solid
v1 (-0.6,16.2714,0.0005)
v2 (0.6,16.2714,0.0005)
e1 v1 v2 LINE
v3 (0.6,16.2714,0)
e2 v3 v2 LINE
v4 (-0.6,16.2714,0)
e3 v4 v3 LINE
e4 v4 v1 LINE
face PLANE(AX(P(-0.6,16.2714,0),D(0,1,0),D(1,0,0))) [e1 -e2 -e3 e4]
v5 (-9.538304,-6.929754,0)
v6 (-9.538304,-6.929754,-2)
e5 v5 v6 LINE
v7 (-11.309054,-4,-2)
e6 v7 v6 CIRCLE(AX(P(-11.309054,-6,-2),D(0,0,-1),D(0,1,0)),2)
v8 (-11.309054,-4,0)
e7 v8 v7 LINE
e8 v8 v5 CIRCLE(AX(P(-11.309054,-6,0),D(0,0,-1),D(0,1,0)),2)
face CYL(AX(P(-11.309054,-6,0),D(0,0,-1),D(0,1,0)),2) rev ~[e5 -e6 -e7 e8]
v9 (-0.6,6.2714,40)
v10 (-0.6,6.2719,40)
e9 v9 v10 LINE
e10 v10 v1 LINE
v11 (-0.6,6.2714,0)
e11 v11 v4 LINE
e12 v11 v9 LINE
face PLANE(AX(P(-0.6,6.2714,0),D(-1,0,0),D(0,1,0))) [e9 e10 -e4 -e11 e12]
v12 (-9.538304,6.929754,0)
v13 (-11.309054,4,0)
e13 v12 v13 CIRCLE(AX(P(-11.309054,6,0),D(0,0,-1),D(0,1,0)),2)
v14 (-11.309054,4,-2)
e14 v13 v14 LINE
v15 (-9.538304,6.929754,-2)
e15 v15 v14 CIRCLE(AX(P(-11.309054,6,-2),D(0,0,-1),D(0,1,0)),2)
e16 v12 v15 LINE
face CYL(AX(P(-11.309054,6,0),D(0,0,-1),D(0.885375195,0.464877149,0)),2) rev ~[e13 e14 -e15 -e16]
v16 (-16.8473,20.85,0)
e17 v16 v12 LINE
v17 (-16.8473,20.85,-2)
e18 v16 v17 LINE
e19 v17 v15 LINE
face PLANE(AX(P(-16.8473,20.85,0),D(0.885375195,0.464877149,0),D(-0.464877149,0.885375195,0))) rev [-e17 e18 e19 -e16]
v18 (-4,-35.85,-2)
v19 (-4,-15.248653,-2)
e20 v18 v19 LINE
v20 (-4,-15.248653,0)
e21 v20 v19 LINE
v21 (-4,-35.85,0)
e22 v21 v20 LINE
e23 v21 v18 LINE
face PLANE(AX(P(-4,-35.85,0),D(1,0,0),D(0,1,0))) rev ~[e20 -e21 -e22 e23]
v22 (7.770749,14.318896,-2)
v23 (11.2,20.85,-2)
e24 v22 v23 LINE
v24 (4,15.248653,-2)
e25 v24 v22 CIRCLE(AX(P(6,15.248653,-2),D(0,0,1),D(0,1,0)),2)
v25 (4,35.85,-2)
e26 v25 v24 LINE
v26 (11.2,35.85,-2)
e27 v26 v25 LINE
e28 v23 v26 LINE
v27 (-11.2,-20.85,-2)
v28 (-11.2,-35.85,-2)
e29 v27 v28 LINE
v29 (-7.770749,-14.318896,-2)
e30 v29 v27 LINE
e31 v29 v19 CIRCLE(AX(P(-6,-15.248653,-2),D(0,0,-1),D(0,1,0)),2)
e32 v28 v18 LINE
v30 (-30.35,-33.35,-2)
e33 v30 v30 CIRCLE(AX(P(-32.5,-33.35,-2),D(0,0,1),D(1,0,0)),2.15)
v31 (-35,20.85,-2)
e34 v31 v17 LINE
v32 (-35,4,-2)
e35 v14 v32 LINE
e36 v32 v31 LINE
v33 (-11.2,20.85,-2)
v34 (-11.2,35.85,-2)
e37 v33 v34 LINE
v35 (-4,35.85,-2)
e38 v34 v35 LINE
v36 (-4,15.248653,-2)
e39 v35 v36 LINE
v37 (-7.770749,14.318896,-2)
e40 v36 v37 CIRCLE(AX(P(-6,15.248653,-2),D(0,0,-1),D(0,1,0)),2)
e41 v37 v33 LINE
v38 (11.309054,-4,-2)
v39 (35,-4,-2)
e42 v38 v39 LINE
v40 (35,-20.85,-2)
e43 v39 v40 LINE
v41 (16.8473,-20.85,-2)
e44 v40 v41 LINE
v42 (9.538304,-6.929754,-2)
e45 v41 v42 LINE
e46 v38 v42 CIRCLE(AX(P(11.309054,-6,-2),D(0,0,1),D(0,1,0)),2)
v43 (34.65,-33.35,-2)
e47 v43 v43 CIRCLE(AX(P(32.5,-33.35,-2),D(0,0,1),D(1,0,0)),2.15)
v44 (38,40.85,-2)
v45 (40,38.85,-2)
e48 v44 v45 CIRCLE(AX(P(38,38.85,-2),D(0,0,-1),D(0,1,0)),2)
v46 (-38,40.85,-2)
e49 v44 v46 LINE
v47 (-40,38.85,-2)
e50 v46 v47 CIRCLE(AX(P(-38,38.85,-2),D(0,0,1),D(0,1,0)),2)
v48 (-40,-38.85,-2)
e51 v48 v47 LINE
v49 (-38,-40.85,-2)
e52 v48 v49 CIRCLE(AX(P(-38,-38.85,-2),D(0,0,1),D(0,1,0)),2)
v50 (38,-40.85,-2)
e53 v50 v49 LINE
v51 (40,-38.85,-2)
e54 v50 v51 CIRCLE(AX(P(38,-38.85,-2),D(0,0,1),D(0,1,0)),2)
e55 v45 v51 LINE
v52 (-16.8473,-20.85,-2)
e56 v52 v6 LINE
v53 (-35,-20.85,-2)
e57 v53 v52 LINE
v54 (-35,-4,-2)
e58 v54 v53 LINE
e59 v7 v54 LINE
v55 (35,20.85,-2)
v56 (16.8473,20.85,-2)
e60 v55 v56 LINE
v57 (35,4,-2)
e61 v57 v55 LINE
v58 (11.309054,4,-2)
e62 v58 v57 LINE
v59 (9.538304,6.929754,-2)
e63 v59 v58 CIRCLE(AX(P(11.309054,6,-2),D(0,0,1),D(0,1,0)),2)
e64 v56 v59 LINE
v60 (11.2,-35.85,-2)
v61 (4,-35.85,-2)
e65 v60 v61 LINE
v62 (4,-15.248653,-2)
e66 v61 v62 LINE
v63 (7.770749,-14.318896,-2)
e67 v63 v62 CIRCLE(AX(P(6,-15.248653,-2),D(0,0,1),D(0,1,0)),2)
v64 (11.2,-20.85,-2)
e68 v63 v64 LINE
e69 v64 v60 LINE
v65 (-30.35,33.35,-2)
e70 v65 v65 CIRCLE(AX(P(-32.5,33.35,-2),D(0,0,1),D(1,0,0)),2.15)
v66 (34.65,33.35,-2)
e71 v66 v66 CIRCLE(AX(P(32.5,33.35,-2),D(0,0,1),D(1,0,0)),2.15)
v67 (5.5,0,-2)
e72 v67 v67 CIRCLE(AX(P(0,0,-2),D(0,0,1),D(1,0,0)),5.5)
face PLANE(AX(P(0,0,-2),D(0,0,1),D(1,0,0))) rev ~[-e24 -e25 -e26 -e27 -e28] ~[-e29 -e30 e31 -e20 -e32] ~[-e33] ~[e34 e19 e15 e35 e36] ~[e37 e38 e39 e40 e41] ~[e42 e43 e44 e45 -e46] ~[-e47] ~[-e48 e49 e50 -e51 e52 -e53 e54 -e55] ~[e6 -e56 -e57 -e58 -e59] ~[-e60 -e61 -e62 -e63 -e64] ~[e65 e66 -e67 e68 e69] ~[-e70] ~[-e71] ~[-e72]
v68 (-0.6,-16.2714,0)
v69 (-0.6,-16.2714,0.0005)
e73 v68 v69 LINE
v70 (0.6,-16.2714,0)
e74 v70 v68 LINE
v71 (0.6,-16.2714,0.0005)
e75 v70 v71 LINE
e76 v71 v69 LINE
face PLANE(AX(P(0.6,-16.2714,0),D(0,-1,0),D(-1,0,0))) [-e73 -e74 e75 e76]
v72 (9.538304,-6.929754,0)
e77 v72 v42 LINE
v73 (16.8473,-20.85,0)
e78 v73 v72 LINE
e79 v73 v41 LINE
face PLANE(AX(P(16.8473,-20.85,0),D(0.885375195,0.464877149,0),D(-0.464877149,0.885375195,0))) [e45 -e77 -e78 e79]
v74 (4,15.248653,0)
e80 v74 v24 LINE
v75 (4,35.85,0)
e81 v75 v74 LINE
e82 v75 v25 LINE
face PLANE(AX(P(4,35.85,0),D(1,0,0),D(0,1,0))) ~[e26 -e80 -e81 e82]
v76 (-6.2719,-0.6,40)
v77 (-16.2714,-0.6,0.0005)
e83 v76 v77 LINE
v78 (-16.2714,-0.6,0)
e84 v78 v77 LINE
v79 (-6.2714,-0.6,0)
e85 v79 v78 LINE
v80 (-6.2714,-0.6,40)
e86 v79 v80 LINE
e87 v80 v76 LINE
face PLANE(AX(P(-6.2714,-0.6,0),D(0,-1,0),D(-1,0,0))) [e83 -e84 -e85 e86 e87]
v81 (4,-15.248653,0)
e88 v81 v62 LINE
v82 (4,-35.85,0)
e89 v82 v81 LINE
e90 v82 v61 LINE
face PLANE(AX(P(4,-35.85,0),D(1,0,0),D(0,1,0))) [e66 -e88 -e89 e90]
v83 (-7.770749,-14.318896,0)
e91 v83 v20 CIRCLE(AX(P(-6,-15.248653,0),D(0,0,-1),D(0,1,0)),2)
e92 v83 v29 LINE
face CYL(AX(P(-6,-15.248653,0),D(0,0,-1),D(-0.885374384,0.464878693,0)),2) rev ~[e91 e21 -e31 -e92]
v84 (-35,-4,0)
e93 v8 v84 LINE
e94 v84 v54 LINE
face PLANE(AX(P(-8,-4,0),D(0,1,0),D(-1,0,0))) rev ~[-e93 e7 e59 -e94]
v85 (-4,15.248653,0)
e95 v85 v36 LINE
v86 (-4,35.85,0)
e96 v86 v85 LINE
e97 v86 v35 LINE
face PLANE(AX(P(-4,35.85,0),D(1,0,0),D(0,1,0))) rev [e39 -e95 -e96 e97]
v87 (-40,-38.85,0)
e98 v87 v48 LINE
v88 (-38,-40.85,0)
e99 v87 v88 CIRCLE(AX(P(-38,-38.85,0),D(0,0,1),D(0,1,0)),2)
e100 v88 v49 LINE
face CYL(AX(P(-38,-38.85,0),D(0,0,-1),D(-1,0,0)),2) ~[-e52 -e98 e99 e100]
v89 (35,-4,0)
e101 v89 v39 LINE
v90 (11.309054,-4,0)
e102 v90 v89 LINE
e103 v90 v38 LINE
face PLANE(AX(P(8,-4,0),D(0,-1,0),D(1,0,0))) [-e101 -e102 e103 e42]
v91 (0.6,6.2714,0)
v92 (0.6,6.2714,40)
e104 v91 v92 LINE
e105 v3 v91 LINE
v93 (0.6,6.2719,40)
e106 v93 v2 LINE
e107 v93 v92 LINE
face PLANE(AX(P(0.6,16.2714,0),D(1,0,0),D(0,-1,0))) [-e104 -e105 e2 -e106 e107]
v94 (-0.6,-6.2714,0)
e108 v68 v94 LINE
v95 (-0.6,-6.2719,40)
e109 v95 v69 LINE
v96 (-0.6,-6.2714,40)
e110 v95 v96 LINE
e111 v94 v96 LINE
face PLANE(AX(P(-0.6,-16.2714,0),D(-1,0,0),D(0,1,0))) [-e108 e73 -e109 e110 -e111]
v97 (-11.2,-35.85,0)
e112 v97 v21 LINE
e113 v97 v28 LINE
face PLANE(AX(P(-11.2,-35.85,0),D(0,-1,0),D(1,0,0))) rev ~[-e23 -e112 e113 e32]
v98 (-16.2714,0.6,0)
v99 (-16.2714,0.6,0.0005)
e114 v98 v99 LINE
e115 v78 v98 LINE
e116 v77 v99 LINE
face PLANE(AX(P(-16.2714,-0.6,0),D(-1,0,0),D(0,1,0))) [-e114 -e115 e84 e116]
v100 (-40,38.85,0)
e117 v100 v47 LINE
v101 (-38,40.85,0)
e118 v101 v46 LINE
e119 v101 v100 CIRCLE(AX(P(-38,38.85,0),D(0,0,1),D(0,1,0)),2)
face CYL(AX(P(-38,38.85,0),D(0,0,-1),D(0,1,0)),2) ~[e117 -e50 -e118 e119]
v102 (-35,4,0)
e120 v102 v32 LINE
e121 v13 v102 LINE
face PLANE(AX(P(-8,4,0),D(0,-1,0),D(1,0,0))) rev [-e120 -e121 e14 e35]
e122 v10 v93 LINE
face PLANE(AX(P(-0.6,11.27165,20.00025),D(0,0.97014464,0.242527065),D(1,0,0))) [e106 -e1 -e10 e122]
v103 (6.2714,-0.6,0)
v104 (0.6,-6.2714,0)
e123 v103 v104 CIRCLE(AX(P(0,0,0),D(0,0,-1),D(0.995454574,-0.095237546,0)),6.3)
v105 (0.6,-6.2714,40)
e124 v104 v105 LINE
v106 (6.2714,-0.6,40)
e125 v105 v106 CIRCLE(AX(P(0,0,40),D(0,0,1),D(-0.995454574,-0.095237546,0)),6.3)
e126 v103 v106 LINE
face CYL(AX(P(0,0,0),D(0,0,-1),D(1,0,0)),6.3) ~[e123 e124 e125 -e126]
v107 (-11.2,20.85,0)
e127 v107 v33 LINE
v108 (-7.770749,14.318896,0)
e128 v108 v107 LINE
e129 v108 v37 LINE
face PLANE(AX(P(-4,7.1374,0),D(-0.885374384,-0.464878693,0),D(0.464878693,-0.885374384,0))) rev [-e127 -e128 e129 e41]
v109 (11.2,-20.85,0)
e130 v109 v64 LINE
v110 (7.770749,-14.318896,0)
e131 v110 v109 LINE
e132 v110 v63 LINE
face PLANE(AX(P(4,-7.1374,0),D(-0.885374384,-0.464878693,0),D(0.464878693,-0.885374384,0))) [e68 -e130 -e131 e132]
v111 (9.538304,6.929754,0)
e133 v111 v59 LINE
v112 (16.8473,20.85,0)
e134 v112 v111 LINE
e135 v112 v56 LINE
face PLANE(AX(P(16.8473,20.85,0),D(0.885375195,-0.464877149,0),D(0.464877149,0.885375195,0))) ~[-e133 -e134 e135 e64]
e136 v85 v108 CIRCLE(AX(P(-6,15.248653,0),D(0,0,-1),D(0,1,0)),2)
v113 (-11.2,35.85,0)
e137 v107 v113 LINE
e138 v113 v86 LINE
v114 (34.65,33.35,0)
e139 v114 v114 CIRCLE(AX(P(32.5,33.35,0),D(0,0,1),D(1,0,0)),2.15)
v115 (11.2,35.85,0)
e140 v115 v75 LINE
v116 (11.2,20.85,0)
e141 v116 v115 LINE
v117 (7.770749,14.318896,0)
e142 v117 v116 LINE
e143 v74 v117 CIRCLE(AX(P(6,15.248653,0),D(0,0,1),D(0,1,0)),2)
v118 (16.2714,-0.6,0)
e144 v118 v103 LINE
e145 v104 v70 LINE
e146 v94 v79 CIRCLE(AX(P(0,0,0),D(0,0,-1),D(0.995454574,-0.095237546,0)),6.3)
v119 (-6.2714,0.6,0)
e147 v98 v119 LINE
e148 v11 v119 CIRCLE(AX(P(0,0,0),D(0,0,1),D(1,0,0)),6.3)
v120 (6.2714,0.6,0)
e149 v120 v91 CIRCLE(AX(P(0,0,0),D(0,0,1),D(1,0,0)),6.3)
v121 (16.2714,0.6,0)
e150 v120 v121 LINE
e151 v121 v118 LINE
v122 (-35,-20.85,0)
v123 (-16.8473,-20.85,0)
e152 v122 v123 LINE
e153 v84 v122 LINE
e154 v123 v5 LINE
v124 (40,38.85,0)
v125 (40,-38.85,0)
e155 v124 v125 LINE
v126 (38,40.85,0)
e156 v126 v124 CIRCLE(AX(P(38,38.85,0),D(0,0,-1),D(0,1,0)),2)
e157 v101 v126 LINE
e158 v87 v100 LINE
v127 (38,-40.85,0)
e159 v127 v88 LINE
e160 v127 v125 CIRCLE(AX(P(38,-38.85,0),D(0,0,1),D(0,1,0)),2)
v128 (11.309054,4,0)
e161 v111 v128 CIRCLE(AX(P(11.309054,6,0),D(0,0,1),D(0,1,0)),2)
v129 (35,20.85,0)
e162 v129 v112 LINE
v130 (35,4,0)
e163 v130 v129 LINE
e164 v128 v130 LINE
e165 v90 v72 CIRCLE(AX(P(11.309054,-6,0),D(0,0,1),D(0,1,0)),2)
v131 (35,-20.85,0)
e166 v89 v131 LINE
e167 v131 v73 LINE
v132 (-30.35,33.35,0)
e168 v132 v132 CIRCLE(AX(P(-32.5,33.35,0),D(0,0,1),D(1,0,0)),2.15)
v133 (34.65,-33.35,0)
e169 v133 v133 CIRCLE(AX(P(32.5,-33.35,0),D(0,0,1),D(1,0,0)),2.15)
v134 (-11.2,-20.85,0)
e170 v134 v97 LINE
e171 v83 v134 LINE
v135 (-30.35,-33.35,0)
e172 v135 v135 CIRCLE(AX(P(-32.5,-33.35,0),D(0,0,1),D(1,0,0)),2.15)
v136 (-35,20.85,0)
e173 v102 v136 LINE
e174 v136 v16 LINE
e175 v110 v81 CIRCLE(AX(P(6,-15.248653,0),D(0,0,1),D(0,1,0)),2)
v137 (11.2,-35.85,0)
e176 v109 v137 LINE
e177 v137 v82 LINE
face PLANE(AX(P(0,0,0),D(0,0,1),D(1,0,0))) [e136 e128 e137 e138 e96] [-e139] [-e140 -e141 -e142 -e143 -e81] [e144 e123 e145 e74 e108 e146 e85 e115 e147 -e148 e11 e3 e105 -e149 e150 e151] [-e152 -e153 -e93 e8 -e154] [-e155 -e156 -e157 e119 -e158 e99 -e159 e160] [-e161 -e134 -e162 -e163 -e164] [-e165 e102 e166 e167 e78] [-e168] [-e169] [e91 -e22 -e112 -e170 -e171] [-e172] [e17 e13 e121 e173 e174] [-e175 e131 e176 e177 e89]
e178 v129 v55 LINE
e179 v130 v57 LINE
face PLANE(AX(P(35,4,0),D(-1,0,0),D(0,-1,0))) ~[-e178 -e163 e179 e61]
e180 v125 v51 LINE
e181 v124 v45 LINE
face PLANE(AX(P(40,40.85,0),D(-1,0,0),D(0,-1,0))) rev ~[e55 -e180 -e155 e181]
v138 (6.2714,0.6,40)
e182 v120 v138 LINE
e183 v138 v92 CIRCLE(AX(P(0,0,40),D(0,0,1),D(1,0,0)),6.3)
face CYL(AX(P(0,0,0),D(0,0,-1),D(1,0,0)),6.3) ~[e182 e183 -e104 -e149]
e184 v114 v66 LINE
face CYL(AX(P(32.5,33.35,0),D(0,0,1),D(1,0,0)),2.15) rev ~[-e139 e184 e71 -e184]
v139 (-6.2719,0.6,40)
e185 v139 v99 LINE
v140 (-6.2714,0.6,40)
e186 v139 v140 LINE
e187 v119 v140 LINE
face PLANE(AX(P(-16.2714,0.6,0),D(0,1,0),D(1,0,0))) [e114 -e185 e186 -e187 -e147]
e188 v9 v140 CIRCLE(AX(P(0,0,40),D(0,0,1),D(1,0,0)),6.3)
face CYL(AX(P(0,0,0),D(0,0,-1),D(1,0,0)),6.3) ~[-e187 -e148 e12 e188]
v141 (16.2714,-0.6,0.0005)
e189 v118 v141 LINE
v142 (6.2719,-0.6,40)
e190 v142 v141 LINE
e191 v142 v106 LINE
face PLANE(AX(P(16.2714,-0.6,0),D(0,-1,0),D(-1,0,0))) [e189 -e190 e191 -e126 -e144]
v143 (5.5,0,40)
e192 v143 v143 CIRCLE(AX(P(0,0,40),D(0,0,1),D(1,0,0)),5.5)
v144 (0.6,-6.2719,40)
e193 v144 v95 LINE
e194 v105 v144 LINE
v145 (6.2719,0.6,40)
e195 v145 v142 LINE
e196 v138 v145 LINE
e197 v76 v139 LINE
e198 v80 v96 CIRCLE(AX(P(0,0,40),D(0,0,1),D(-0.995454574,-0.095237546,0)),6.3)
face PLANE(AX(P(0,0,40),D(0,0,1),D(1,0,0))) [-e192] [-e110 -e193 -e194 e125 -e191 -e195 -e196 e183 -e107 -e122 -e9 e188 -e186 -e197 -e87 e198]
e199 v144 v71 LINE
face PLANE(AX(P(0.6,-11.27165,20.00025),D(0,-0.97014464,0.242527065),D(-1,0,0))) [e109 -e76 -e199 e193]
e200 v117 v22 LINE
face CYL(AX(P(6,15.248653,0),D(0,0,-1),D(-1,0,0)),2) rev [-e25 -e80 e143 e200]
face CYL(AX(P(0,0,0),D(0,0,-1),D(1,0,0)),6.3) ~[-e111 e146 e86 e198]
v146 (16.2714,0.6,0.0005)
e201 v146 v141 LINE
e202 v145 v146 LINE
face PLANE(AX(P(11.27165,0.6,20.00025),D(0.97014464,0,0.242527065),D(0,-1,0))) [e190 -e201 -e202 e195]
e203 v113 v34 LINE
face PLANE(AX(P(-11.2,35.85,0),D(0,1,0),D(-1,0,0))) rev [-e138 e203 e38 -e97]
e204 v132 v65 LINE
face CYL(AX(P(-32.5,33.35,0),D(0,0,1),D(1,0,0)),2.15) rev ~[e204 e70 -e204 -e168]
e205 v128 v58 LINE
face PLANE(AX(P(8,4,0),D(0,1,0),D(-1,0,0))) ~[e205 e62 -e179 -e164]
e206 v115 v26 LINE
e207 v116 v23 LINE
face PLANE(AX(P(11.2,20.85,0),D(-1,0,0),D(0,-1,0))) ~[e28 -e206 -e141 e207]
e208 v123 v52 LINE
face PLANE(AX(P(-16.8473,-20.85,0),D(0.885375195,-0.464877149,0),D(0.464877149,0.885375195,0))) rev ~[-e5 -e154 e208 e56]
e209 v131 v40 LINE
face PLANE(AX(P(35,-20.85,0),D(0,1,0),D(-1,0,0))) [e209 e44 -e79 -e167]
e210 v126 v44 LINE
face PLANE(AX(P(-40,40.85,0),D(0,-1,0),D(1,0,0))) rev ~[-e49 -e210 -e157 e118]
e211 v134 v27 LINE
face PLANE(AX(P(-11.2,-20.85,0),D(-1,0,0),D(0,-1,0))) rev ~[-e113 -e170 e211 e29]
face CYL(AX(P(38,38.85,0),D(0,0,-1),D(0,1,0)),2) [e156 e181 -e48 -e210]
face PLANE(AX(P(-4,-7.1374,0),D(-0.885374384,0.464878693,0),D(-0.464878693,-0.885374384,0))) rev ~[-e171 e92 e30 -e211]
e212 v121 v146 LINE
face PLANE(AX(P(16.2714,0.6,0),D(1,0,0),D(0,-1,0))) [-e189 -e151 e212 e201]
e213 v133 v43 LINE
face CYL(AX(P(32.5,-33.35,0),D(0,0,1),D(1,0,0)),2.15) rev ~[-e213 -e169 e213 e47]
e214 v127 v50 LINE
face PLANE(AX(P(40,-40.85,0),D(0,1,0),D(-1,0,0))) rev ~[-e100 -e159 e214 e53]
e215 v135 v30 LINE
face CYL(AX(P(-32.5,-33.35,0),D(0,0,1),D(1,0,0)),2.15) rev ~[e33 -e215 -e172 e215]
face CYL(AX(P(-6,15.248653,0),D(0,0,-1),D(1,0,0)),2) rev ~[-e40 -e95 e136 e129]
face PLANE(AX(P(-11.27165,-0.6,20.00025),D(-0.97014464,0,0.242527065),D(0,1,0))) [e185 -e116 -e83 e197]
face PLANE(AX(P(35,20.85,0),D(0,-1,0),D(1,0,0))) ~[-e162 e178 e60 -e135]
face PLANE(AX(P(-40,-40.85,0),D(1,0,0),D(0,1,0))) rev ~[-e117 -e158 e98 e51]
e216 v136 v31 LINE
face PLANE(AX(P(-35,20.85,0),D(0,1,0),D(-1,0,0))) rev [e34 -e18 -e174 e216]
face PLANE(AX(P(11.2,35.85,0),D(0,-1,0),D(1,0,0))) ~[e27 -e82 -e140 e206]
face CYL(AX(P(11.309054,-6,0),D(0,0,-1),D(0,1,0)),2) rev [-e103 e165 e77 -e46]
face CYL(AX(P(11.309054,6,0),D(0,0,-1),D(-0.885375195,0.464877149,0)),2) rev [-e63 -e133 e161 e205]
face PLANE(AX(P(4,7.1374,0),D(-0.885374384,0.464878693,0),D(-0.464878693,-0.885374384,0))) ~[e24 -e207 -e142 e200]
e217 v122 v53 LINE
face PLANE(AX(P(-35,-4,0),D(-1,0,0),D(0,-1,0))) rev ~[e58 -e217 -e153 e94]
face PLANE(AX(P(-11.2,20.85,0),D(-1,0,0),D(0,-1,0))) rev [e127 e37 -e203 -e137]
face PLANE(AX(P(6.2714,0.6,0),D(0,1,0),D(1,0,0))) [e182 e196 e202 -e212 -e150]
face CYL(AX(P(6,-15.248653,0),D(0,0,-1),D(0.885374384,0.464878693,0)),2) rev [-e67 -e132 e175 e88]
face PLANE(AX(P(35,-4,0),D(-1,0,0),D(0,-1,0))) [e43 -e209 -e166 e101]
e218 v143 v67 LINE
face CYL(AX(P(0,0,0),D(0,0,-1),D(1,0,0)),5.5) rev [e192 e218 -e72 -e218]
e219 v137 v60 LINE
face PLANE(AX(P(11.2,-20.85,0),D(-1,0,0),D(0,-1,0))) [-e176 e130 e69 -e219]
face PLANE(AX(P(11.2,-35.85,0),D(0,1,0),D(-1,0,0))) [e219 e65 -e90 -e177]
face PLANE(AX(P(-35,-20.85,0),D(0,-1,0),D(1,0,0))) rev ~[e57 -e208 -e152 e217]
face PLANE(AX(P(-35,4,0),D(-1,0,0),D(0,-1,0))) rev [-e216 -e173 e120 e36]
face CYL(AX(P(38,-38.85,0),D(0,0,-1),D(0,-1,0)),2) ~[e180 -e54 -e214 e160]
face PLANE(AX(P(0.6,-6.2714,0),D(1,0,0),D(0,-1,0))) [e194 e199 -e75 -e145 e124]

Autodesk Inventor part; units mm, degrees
ref_plane "YZ Plane" through (0, 0, 0) normal (1, 0, 0) x (0, 1, 0)
sketch "S-Basis" plane through (0, 0, 0) normal (0, 0, 1) x (1, 0, 0)
  line L0 (0, 57.19) -> (0, -57.19) construction
  line L1 (-56, 0) -> (56, 0) construction
  line L2 (-40, 40.85) -> (40, 40.85)
  line L3 (40, 40.85) -> (40, -40.85)
  line L4 (40, -40.85) -> (-40, -40.85)
  line L5 (-40, -40.85) -> (-40, 40.85)
  line L6 (-40, 40.85) -> (40, -40.85) construction
  line L7 (40, 40.85) -> (-40, -40.85) construction
  line L8 (-40, 33.35) -> (40, 33.35) construction
  circle A0 centre (-32.5, 33.35) radius 2.15
  circle A1 centre (32.5, 33.35) radius 2.15
  circle A2 centre (-32.5, -33.35) radius 2.15
  circle A3 centre (32.5, -33.35) radius 2.15
  line L9 (-4.418, 40.85) -> (4.418, 40.85)
  line L10 (-40, -40.85) -> (-16.2, -40.85) construction
  line L11 (-16.2, -40.85) -> (-16.2, -25.85) construction
  line L12 (-16.2, -25.85) -> (-40, -25.85) construction
  line L13 (-40, -25.85) -> (-40, -40.85) construction
  line L14 (-40, 40.85) -> (-16.2, 40.85) construction
  line L15 (-16.2, 40.85) -> (-16.2, 25.85) construction
  line L16 (-16.2, 25.85) -> (-40, 25.85) construction
  line L17 (-40, 25.85) -> (-40, 40.85) construction
  line L18 (40, -40.85) -> (16.2, -40.85) construction
  line L19 (16.2, -40.85) -> (16.2, -25.85) construction
  line L20 (16.2, -25.85) -> (40, -25.85) construction
  line L21 (40, -25.85) -> (40, -40.85) construction
  line L22 (40, 40.85) -> (16.2, 40.85) construction
  line L23 (40, 25.85) -> (40, 40.85) construction
  line L24 (16.2, 25.85) -> (40, 25.85) construction
  line L25 (16.2, 40.85) -> (16.2, 25.85) construction
  line L26 (-16.2, -35.85) -> (-14.2, -35.85)
  line L27 (-14.2, -35.85) -> (-14.2, -30.85)
  line L28 (-14.2, -30.85) -> (-16.2, -30.85)
  line L29 (-16.2, -30.85) -> (-16.2, -35.85)
  line L30 (-35, -25.85) -> (-30, -25.85)
  line L31 (-30, -25.85) -> (-30, -23.85)
  line L32 (-30, -23.85) -> (-35, -23.85)
  line L33 (-35, -23.85) -> (-35, -25.85)
  line L34 (-16.2, 35.85) -> (-14.2, 35.85)
  line L35 (-14.2, 35.85) -> (-14.2, 30.85)
  line L36 (-14.2, 30.85) -> (-16.2, 30.85)
  line L37 (-16.2, 30.85) -> (-16.2, 35.85)
  line L38 (-35, 25.85) -> (-30, 25.85)
  line L39 (-30, 25.85) -> (-30, 23.85)
  line L40 (-30, 23.85) -> (-35, 23.85)
  line L41 (-35, 23.85) -> (-35, 25.85)
  line L42 (16.2, -35.85) -> (14.2, -35.85)
  line L43 (14.2, -35.85) -> (14.2, -30.85)
  line L44 (14.2, -30.85) -> (16.2, -30.85)
  line L45 (16.2, -30.85) -> (16.2, -35.85)
  line L46 (35, -25.85) -> (30, -25.85)
  line L47 (30, -25.85) -> (30, -23.85)
  line L48 (30, -23.85) -> (35, -23.85)
  line L49 (35, -23.85) -> (35, -25.85)
  line L50 (14.2, 30.85) -> (16.2, 30.85)
  line L51 (14.2, 35.85) -> (14.2, 30.85)
  line L52 (16.2, 35.85) -> (14.2, 35.85)
  line L53 (16.2, 30.85) -> (16.2, 35.85)
  line L54 (30, 25.85) -> (30, 23.85)
  line L55 (30, 23.85) -> (35, 23.85)
  line L56 (35, 23.85) -> (35, 25.85)
  line L57 (35, 25.85) -> (30, 25.85)
  circle A4 centre (0, 0) radius 5.5
  circle A5 centre (0, 0) radius 6.3
  line L58 (0.6, 6.2714) -> (-0.6, 6.2714)
  line L59 (-0.6, 6.2714) -> (-0.6, 16.2714)
  line L60 (-0.6, 16.2714) -> (0.6, 16.2714)
  line L61 (0.6, 16.2714) -> (0.6, 6.2714)
  line L62 (-16.2714, -0.6) -> (-16.2714, 0.6)
  line L63 (-16.2714, 0.6) -> (-6.2714, 0.6)
  line L64 (-6.2714, -0.6) -> (-16.2714, -0.6)
  line L65 (-6.2714, 0.6) -> (-6.2714, -0.6)
  line L66 (0.6, -16.2714) -> (-0.6, -16.2714)
  line L67 (-0.6, -16.2714) -> (-0.6, -6.2714)
  line L68 (0.6, -6.2714) -> (0.6, -16.2714)
  line L69 (-0.6, -6.2714) -> (0.6, -6.2714)
  line L70 (16.2714, 0.6) -> (16.2714, -0.6)
  line L71 (16.2714, -0.6) -> (6.2714, -0.6)
  line L72 (6.2714, 0.6) -> (16.2714, 0.6)
  line L73 (6.2714, -0.6) -> (6.2714, 0.6)
  point P0 (0, 40.85)
  point P1 (-16.2, -33.35)
  point P2 (-16.2, 33.35)
  point P3 (16.2, -33.35)
  point P4 (16.2, 33.35)
  point P5 (-6.2714, -0.6)
  point P6 (-6.2714, -0.6)
  point P7 (-6.2714, 0.6)
  point P8 (-6.2714, 0.6)
  point P9 (6.2714, 0.6)
  point P10 (-0.6, -6.2714)
  point P11 (0.6, -6.2714)
  point P12 (6.2714, -0.6)
  dimension "d0" = 81.7
  dimension "d1" = 80
  dimension "d4" = 7.5
  dimension "d7" = 4.3
  dimension "d8" = 32.5
  dimension "d9" = 4.3
  dimension "d10" = 32.5
  dimension "d11" = 7.5
  dimension "d26" = 15
  dimension "d27" = 23.8
  dimension "d30" = 5
  dimension "d31" = 5
  dimension "d32" = 5
  dimension "d33" = 2
  dimension "d34" = 2
  dimension "d85" = 11
  dimension "d86" = 0.8
  dimension "d87" = 1.2
  dimension "d88" = 10
  dimension "d91" = 360
extrude "Ex-Base1" add sketch "S-Basis" against normal blind 2 contours L2 L3 L4 L5 | L29 L28 L27 L26 | L33 L32 L31 L30 | L34 L35 L36 L37 | L38 L39 L40 L41 | L42 L43 L44 L45 | L46 L47 L48 L49 | L51 L52 L53 L50 | L57 L56 L55 L54 | A5 L73 | A5 L72 L70 L71 | L73 A5 L69 L65 L58 | L58 A5 | A5 L59 L60 L61 | L68 L66 L67 A5 | A5 L69 | L65 A5 | A5 L64 L62 L63
extrude "Ex-Probe" [suppressed]
fillet "Rundung1" radius 2 4 edges at (40, -40.85, -1) (-40, -40.85, -1) (40, 40.85, -1) (-40, 40.85, -1)
ref_plane "RWG-X" through (1.8795, 9, 10.525) normal (0, 0, -1) x (-1, 0, 0)
ref_plane "RWG-Y" through (0, 9, 9.585) normal (1, 0, 0) x (0, 0, -1)
sketch "Skizze5" plane through (0, 0, 0) normal (0, 0, 1) x (1, 0, 0)
  line L0 (0, 57.19) -> (0, -57.19) construction
  line L1 (-35, -4) -> (-35, -20.85)
  line L2 (-35, -20.85) -> (-16.8473, -20.85)
  line L3 (-16.8473, -20.85) -> (-8, -4)
  line L4 (-8, -4) -> (-35, -4)
  line L5 (-11.2, -20.85) -> (-11.2, -35.85)
  line L6 (-11.2, -35.85) -> (-4, -35.85)
  line L7 (-4, -35.85) -> (-4, -7.1374)
  line L8 (-4, -7.1374) -> (-11.2, -20.85)
  line L9 (-56, 0) -> (56, 0) construction
  line L10 (35, -4) -> (35, -20.85)
  line L11 (35, -20.85) -> (16.8473, -20.85)
  line L12 (16.8473, -20.85) -> (8, -4)
  line L13 (8, -4) -> (35, -4)
  line L14 (11.2, -20.85) -> (11.2, -35.85)
  line L15 (11.2, -35.85) -> (4, -35.85)
  line L16 (4, -35.85) -> (4, -7.1374)
  line L17 (4, -7.1374) -> (11.2, -20.85)
  point P0 (0, 0)
  dimension "d74" = 4
  dimension "d77" = 5
  dimension "d78" = 4
extrude "Ex-ResinSave" cut sketch "Skizze5" against normal blind 2
fillet "Run-ResinSave" radius 2 4 edges at (-4, -7.1374, -1) (-8, -4, -1) (4, -7.1374, -1) (8, -4, -1)
mirror "Spiegeln3" about plane through (0, 0, 0) normal (0, 1, 0) of "Ex-ResinSave", "Run-ResinSave"
extrude "Ex-Führung" add sketch "S-Basis" along normal blind 40 contours A5 L73 | L73 A5 L69 L65 L58 | A5 L69
extrude "Ex-Stütze1" add sketch "S-Basis" along normal blind 40 contours L58 A5 | A5 L59 L60 L61
chamfer "Fase-Stütze1" distance 10 distance2 40 1 edges at (0, 16.2714, 40) measured on face at (0.2, 9.6047, 40)
pattern_circular "Runde Anordnung1" count 4 over 360 about axis through (0, 0, 0) along (0, 0, -1) of "Ex-Stütze1", "Fase-Stütze1"
equation "\"d10\" = d8"
equation "\"d11\" = d4"
properties part number "StiftHalter_PlateV1"
